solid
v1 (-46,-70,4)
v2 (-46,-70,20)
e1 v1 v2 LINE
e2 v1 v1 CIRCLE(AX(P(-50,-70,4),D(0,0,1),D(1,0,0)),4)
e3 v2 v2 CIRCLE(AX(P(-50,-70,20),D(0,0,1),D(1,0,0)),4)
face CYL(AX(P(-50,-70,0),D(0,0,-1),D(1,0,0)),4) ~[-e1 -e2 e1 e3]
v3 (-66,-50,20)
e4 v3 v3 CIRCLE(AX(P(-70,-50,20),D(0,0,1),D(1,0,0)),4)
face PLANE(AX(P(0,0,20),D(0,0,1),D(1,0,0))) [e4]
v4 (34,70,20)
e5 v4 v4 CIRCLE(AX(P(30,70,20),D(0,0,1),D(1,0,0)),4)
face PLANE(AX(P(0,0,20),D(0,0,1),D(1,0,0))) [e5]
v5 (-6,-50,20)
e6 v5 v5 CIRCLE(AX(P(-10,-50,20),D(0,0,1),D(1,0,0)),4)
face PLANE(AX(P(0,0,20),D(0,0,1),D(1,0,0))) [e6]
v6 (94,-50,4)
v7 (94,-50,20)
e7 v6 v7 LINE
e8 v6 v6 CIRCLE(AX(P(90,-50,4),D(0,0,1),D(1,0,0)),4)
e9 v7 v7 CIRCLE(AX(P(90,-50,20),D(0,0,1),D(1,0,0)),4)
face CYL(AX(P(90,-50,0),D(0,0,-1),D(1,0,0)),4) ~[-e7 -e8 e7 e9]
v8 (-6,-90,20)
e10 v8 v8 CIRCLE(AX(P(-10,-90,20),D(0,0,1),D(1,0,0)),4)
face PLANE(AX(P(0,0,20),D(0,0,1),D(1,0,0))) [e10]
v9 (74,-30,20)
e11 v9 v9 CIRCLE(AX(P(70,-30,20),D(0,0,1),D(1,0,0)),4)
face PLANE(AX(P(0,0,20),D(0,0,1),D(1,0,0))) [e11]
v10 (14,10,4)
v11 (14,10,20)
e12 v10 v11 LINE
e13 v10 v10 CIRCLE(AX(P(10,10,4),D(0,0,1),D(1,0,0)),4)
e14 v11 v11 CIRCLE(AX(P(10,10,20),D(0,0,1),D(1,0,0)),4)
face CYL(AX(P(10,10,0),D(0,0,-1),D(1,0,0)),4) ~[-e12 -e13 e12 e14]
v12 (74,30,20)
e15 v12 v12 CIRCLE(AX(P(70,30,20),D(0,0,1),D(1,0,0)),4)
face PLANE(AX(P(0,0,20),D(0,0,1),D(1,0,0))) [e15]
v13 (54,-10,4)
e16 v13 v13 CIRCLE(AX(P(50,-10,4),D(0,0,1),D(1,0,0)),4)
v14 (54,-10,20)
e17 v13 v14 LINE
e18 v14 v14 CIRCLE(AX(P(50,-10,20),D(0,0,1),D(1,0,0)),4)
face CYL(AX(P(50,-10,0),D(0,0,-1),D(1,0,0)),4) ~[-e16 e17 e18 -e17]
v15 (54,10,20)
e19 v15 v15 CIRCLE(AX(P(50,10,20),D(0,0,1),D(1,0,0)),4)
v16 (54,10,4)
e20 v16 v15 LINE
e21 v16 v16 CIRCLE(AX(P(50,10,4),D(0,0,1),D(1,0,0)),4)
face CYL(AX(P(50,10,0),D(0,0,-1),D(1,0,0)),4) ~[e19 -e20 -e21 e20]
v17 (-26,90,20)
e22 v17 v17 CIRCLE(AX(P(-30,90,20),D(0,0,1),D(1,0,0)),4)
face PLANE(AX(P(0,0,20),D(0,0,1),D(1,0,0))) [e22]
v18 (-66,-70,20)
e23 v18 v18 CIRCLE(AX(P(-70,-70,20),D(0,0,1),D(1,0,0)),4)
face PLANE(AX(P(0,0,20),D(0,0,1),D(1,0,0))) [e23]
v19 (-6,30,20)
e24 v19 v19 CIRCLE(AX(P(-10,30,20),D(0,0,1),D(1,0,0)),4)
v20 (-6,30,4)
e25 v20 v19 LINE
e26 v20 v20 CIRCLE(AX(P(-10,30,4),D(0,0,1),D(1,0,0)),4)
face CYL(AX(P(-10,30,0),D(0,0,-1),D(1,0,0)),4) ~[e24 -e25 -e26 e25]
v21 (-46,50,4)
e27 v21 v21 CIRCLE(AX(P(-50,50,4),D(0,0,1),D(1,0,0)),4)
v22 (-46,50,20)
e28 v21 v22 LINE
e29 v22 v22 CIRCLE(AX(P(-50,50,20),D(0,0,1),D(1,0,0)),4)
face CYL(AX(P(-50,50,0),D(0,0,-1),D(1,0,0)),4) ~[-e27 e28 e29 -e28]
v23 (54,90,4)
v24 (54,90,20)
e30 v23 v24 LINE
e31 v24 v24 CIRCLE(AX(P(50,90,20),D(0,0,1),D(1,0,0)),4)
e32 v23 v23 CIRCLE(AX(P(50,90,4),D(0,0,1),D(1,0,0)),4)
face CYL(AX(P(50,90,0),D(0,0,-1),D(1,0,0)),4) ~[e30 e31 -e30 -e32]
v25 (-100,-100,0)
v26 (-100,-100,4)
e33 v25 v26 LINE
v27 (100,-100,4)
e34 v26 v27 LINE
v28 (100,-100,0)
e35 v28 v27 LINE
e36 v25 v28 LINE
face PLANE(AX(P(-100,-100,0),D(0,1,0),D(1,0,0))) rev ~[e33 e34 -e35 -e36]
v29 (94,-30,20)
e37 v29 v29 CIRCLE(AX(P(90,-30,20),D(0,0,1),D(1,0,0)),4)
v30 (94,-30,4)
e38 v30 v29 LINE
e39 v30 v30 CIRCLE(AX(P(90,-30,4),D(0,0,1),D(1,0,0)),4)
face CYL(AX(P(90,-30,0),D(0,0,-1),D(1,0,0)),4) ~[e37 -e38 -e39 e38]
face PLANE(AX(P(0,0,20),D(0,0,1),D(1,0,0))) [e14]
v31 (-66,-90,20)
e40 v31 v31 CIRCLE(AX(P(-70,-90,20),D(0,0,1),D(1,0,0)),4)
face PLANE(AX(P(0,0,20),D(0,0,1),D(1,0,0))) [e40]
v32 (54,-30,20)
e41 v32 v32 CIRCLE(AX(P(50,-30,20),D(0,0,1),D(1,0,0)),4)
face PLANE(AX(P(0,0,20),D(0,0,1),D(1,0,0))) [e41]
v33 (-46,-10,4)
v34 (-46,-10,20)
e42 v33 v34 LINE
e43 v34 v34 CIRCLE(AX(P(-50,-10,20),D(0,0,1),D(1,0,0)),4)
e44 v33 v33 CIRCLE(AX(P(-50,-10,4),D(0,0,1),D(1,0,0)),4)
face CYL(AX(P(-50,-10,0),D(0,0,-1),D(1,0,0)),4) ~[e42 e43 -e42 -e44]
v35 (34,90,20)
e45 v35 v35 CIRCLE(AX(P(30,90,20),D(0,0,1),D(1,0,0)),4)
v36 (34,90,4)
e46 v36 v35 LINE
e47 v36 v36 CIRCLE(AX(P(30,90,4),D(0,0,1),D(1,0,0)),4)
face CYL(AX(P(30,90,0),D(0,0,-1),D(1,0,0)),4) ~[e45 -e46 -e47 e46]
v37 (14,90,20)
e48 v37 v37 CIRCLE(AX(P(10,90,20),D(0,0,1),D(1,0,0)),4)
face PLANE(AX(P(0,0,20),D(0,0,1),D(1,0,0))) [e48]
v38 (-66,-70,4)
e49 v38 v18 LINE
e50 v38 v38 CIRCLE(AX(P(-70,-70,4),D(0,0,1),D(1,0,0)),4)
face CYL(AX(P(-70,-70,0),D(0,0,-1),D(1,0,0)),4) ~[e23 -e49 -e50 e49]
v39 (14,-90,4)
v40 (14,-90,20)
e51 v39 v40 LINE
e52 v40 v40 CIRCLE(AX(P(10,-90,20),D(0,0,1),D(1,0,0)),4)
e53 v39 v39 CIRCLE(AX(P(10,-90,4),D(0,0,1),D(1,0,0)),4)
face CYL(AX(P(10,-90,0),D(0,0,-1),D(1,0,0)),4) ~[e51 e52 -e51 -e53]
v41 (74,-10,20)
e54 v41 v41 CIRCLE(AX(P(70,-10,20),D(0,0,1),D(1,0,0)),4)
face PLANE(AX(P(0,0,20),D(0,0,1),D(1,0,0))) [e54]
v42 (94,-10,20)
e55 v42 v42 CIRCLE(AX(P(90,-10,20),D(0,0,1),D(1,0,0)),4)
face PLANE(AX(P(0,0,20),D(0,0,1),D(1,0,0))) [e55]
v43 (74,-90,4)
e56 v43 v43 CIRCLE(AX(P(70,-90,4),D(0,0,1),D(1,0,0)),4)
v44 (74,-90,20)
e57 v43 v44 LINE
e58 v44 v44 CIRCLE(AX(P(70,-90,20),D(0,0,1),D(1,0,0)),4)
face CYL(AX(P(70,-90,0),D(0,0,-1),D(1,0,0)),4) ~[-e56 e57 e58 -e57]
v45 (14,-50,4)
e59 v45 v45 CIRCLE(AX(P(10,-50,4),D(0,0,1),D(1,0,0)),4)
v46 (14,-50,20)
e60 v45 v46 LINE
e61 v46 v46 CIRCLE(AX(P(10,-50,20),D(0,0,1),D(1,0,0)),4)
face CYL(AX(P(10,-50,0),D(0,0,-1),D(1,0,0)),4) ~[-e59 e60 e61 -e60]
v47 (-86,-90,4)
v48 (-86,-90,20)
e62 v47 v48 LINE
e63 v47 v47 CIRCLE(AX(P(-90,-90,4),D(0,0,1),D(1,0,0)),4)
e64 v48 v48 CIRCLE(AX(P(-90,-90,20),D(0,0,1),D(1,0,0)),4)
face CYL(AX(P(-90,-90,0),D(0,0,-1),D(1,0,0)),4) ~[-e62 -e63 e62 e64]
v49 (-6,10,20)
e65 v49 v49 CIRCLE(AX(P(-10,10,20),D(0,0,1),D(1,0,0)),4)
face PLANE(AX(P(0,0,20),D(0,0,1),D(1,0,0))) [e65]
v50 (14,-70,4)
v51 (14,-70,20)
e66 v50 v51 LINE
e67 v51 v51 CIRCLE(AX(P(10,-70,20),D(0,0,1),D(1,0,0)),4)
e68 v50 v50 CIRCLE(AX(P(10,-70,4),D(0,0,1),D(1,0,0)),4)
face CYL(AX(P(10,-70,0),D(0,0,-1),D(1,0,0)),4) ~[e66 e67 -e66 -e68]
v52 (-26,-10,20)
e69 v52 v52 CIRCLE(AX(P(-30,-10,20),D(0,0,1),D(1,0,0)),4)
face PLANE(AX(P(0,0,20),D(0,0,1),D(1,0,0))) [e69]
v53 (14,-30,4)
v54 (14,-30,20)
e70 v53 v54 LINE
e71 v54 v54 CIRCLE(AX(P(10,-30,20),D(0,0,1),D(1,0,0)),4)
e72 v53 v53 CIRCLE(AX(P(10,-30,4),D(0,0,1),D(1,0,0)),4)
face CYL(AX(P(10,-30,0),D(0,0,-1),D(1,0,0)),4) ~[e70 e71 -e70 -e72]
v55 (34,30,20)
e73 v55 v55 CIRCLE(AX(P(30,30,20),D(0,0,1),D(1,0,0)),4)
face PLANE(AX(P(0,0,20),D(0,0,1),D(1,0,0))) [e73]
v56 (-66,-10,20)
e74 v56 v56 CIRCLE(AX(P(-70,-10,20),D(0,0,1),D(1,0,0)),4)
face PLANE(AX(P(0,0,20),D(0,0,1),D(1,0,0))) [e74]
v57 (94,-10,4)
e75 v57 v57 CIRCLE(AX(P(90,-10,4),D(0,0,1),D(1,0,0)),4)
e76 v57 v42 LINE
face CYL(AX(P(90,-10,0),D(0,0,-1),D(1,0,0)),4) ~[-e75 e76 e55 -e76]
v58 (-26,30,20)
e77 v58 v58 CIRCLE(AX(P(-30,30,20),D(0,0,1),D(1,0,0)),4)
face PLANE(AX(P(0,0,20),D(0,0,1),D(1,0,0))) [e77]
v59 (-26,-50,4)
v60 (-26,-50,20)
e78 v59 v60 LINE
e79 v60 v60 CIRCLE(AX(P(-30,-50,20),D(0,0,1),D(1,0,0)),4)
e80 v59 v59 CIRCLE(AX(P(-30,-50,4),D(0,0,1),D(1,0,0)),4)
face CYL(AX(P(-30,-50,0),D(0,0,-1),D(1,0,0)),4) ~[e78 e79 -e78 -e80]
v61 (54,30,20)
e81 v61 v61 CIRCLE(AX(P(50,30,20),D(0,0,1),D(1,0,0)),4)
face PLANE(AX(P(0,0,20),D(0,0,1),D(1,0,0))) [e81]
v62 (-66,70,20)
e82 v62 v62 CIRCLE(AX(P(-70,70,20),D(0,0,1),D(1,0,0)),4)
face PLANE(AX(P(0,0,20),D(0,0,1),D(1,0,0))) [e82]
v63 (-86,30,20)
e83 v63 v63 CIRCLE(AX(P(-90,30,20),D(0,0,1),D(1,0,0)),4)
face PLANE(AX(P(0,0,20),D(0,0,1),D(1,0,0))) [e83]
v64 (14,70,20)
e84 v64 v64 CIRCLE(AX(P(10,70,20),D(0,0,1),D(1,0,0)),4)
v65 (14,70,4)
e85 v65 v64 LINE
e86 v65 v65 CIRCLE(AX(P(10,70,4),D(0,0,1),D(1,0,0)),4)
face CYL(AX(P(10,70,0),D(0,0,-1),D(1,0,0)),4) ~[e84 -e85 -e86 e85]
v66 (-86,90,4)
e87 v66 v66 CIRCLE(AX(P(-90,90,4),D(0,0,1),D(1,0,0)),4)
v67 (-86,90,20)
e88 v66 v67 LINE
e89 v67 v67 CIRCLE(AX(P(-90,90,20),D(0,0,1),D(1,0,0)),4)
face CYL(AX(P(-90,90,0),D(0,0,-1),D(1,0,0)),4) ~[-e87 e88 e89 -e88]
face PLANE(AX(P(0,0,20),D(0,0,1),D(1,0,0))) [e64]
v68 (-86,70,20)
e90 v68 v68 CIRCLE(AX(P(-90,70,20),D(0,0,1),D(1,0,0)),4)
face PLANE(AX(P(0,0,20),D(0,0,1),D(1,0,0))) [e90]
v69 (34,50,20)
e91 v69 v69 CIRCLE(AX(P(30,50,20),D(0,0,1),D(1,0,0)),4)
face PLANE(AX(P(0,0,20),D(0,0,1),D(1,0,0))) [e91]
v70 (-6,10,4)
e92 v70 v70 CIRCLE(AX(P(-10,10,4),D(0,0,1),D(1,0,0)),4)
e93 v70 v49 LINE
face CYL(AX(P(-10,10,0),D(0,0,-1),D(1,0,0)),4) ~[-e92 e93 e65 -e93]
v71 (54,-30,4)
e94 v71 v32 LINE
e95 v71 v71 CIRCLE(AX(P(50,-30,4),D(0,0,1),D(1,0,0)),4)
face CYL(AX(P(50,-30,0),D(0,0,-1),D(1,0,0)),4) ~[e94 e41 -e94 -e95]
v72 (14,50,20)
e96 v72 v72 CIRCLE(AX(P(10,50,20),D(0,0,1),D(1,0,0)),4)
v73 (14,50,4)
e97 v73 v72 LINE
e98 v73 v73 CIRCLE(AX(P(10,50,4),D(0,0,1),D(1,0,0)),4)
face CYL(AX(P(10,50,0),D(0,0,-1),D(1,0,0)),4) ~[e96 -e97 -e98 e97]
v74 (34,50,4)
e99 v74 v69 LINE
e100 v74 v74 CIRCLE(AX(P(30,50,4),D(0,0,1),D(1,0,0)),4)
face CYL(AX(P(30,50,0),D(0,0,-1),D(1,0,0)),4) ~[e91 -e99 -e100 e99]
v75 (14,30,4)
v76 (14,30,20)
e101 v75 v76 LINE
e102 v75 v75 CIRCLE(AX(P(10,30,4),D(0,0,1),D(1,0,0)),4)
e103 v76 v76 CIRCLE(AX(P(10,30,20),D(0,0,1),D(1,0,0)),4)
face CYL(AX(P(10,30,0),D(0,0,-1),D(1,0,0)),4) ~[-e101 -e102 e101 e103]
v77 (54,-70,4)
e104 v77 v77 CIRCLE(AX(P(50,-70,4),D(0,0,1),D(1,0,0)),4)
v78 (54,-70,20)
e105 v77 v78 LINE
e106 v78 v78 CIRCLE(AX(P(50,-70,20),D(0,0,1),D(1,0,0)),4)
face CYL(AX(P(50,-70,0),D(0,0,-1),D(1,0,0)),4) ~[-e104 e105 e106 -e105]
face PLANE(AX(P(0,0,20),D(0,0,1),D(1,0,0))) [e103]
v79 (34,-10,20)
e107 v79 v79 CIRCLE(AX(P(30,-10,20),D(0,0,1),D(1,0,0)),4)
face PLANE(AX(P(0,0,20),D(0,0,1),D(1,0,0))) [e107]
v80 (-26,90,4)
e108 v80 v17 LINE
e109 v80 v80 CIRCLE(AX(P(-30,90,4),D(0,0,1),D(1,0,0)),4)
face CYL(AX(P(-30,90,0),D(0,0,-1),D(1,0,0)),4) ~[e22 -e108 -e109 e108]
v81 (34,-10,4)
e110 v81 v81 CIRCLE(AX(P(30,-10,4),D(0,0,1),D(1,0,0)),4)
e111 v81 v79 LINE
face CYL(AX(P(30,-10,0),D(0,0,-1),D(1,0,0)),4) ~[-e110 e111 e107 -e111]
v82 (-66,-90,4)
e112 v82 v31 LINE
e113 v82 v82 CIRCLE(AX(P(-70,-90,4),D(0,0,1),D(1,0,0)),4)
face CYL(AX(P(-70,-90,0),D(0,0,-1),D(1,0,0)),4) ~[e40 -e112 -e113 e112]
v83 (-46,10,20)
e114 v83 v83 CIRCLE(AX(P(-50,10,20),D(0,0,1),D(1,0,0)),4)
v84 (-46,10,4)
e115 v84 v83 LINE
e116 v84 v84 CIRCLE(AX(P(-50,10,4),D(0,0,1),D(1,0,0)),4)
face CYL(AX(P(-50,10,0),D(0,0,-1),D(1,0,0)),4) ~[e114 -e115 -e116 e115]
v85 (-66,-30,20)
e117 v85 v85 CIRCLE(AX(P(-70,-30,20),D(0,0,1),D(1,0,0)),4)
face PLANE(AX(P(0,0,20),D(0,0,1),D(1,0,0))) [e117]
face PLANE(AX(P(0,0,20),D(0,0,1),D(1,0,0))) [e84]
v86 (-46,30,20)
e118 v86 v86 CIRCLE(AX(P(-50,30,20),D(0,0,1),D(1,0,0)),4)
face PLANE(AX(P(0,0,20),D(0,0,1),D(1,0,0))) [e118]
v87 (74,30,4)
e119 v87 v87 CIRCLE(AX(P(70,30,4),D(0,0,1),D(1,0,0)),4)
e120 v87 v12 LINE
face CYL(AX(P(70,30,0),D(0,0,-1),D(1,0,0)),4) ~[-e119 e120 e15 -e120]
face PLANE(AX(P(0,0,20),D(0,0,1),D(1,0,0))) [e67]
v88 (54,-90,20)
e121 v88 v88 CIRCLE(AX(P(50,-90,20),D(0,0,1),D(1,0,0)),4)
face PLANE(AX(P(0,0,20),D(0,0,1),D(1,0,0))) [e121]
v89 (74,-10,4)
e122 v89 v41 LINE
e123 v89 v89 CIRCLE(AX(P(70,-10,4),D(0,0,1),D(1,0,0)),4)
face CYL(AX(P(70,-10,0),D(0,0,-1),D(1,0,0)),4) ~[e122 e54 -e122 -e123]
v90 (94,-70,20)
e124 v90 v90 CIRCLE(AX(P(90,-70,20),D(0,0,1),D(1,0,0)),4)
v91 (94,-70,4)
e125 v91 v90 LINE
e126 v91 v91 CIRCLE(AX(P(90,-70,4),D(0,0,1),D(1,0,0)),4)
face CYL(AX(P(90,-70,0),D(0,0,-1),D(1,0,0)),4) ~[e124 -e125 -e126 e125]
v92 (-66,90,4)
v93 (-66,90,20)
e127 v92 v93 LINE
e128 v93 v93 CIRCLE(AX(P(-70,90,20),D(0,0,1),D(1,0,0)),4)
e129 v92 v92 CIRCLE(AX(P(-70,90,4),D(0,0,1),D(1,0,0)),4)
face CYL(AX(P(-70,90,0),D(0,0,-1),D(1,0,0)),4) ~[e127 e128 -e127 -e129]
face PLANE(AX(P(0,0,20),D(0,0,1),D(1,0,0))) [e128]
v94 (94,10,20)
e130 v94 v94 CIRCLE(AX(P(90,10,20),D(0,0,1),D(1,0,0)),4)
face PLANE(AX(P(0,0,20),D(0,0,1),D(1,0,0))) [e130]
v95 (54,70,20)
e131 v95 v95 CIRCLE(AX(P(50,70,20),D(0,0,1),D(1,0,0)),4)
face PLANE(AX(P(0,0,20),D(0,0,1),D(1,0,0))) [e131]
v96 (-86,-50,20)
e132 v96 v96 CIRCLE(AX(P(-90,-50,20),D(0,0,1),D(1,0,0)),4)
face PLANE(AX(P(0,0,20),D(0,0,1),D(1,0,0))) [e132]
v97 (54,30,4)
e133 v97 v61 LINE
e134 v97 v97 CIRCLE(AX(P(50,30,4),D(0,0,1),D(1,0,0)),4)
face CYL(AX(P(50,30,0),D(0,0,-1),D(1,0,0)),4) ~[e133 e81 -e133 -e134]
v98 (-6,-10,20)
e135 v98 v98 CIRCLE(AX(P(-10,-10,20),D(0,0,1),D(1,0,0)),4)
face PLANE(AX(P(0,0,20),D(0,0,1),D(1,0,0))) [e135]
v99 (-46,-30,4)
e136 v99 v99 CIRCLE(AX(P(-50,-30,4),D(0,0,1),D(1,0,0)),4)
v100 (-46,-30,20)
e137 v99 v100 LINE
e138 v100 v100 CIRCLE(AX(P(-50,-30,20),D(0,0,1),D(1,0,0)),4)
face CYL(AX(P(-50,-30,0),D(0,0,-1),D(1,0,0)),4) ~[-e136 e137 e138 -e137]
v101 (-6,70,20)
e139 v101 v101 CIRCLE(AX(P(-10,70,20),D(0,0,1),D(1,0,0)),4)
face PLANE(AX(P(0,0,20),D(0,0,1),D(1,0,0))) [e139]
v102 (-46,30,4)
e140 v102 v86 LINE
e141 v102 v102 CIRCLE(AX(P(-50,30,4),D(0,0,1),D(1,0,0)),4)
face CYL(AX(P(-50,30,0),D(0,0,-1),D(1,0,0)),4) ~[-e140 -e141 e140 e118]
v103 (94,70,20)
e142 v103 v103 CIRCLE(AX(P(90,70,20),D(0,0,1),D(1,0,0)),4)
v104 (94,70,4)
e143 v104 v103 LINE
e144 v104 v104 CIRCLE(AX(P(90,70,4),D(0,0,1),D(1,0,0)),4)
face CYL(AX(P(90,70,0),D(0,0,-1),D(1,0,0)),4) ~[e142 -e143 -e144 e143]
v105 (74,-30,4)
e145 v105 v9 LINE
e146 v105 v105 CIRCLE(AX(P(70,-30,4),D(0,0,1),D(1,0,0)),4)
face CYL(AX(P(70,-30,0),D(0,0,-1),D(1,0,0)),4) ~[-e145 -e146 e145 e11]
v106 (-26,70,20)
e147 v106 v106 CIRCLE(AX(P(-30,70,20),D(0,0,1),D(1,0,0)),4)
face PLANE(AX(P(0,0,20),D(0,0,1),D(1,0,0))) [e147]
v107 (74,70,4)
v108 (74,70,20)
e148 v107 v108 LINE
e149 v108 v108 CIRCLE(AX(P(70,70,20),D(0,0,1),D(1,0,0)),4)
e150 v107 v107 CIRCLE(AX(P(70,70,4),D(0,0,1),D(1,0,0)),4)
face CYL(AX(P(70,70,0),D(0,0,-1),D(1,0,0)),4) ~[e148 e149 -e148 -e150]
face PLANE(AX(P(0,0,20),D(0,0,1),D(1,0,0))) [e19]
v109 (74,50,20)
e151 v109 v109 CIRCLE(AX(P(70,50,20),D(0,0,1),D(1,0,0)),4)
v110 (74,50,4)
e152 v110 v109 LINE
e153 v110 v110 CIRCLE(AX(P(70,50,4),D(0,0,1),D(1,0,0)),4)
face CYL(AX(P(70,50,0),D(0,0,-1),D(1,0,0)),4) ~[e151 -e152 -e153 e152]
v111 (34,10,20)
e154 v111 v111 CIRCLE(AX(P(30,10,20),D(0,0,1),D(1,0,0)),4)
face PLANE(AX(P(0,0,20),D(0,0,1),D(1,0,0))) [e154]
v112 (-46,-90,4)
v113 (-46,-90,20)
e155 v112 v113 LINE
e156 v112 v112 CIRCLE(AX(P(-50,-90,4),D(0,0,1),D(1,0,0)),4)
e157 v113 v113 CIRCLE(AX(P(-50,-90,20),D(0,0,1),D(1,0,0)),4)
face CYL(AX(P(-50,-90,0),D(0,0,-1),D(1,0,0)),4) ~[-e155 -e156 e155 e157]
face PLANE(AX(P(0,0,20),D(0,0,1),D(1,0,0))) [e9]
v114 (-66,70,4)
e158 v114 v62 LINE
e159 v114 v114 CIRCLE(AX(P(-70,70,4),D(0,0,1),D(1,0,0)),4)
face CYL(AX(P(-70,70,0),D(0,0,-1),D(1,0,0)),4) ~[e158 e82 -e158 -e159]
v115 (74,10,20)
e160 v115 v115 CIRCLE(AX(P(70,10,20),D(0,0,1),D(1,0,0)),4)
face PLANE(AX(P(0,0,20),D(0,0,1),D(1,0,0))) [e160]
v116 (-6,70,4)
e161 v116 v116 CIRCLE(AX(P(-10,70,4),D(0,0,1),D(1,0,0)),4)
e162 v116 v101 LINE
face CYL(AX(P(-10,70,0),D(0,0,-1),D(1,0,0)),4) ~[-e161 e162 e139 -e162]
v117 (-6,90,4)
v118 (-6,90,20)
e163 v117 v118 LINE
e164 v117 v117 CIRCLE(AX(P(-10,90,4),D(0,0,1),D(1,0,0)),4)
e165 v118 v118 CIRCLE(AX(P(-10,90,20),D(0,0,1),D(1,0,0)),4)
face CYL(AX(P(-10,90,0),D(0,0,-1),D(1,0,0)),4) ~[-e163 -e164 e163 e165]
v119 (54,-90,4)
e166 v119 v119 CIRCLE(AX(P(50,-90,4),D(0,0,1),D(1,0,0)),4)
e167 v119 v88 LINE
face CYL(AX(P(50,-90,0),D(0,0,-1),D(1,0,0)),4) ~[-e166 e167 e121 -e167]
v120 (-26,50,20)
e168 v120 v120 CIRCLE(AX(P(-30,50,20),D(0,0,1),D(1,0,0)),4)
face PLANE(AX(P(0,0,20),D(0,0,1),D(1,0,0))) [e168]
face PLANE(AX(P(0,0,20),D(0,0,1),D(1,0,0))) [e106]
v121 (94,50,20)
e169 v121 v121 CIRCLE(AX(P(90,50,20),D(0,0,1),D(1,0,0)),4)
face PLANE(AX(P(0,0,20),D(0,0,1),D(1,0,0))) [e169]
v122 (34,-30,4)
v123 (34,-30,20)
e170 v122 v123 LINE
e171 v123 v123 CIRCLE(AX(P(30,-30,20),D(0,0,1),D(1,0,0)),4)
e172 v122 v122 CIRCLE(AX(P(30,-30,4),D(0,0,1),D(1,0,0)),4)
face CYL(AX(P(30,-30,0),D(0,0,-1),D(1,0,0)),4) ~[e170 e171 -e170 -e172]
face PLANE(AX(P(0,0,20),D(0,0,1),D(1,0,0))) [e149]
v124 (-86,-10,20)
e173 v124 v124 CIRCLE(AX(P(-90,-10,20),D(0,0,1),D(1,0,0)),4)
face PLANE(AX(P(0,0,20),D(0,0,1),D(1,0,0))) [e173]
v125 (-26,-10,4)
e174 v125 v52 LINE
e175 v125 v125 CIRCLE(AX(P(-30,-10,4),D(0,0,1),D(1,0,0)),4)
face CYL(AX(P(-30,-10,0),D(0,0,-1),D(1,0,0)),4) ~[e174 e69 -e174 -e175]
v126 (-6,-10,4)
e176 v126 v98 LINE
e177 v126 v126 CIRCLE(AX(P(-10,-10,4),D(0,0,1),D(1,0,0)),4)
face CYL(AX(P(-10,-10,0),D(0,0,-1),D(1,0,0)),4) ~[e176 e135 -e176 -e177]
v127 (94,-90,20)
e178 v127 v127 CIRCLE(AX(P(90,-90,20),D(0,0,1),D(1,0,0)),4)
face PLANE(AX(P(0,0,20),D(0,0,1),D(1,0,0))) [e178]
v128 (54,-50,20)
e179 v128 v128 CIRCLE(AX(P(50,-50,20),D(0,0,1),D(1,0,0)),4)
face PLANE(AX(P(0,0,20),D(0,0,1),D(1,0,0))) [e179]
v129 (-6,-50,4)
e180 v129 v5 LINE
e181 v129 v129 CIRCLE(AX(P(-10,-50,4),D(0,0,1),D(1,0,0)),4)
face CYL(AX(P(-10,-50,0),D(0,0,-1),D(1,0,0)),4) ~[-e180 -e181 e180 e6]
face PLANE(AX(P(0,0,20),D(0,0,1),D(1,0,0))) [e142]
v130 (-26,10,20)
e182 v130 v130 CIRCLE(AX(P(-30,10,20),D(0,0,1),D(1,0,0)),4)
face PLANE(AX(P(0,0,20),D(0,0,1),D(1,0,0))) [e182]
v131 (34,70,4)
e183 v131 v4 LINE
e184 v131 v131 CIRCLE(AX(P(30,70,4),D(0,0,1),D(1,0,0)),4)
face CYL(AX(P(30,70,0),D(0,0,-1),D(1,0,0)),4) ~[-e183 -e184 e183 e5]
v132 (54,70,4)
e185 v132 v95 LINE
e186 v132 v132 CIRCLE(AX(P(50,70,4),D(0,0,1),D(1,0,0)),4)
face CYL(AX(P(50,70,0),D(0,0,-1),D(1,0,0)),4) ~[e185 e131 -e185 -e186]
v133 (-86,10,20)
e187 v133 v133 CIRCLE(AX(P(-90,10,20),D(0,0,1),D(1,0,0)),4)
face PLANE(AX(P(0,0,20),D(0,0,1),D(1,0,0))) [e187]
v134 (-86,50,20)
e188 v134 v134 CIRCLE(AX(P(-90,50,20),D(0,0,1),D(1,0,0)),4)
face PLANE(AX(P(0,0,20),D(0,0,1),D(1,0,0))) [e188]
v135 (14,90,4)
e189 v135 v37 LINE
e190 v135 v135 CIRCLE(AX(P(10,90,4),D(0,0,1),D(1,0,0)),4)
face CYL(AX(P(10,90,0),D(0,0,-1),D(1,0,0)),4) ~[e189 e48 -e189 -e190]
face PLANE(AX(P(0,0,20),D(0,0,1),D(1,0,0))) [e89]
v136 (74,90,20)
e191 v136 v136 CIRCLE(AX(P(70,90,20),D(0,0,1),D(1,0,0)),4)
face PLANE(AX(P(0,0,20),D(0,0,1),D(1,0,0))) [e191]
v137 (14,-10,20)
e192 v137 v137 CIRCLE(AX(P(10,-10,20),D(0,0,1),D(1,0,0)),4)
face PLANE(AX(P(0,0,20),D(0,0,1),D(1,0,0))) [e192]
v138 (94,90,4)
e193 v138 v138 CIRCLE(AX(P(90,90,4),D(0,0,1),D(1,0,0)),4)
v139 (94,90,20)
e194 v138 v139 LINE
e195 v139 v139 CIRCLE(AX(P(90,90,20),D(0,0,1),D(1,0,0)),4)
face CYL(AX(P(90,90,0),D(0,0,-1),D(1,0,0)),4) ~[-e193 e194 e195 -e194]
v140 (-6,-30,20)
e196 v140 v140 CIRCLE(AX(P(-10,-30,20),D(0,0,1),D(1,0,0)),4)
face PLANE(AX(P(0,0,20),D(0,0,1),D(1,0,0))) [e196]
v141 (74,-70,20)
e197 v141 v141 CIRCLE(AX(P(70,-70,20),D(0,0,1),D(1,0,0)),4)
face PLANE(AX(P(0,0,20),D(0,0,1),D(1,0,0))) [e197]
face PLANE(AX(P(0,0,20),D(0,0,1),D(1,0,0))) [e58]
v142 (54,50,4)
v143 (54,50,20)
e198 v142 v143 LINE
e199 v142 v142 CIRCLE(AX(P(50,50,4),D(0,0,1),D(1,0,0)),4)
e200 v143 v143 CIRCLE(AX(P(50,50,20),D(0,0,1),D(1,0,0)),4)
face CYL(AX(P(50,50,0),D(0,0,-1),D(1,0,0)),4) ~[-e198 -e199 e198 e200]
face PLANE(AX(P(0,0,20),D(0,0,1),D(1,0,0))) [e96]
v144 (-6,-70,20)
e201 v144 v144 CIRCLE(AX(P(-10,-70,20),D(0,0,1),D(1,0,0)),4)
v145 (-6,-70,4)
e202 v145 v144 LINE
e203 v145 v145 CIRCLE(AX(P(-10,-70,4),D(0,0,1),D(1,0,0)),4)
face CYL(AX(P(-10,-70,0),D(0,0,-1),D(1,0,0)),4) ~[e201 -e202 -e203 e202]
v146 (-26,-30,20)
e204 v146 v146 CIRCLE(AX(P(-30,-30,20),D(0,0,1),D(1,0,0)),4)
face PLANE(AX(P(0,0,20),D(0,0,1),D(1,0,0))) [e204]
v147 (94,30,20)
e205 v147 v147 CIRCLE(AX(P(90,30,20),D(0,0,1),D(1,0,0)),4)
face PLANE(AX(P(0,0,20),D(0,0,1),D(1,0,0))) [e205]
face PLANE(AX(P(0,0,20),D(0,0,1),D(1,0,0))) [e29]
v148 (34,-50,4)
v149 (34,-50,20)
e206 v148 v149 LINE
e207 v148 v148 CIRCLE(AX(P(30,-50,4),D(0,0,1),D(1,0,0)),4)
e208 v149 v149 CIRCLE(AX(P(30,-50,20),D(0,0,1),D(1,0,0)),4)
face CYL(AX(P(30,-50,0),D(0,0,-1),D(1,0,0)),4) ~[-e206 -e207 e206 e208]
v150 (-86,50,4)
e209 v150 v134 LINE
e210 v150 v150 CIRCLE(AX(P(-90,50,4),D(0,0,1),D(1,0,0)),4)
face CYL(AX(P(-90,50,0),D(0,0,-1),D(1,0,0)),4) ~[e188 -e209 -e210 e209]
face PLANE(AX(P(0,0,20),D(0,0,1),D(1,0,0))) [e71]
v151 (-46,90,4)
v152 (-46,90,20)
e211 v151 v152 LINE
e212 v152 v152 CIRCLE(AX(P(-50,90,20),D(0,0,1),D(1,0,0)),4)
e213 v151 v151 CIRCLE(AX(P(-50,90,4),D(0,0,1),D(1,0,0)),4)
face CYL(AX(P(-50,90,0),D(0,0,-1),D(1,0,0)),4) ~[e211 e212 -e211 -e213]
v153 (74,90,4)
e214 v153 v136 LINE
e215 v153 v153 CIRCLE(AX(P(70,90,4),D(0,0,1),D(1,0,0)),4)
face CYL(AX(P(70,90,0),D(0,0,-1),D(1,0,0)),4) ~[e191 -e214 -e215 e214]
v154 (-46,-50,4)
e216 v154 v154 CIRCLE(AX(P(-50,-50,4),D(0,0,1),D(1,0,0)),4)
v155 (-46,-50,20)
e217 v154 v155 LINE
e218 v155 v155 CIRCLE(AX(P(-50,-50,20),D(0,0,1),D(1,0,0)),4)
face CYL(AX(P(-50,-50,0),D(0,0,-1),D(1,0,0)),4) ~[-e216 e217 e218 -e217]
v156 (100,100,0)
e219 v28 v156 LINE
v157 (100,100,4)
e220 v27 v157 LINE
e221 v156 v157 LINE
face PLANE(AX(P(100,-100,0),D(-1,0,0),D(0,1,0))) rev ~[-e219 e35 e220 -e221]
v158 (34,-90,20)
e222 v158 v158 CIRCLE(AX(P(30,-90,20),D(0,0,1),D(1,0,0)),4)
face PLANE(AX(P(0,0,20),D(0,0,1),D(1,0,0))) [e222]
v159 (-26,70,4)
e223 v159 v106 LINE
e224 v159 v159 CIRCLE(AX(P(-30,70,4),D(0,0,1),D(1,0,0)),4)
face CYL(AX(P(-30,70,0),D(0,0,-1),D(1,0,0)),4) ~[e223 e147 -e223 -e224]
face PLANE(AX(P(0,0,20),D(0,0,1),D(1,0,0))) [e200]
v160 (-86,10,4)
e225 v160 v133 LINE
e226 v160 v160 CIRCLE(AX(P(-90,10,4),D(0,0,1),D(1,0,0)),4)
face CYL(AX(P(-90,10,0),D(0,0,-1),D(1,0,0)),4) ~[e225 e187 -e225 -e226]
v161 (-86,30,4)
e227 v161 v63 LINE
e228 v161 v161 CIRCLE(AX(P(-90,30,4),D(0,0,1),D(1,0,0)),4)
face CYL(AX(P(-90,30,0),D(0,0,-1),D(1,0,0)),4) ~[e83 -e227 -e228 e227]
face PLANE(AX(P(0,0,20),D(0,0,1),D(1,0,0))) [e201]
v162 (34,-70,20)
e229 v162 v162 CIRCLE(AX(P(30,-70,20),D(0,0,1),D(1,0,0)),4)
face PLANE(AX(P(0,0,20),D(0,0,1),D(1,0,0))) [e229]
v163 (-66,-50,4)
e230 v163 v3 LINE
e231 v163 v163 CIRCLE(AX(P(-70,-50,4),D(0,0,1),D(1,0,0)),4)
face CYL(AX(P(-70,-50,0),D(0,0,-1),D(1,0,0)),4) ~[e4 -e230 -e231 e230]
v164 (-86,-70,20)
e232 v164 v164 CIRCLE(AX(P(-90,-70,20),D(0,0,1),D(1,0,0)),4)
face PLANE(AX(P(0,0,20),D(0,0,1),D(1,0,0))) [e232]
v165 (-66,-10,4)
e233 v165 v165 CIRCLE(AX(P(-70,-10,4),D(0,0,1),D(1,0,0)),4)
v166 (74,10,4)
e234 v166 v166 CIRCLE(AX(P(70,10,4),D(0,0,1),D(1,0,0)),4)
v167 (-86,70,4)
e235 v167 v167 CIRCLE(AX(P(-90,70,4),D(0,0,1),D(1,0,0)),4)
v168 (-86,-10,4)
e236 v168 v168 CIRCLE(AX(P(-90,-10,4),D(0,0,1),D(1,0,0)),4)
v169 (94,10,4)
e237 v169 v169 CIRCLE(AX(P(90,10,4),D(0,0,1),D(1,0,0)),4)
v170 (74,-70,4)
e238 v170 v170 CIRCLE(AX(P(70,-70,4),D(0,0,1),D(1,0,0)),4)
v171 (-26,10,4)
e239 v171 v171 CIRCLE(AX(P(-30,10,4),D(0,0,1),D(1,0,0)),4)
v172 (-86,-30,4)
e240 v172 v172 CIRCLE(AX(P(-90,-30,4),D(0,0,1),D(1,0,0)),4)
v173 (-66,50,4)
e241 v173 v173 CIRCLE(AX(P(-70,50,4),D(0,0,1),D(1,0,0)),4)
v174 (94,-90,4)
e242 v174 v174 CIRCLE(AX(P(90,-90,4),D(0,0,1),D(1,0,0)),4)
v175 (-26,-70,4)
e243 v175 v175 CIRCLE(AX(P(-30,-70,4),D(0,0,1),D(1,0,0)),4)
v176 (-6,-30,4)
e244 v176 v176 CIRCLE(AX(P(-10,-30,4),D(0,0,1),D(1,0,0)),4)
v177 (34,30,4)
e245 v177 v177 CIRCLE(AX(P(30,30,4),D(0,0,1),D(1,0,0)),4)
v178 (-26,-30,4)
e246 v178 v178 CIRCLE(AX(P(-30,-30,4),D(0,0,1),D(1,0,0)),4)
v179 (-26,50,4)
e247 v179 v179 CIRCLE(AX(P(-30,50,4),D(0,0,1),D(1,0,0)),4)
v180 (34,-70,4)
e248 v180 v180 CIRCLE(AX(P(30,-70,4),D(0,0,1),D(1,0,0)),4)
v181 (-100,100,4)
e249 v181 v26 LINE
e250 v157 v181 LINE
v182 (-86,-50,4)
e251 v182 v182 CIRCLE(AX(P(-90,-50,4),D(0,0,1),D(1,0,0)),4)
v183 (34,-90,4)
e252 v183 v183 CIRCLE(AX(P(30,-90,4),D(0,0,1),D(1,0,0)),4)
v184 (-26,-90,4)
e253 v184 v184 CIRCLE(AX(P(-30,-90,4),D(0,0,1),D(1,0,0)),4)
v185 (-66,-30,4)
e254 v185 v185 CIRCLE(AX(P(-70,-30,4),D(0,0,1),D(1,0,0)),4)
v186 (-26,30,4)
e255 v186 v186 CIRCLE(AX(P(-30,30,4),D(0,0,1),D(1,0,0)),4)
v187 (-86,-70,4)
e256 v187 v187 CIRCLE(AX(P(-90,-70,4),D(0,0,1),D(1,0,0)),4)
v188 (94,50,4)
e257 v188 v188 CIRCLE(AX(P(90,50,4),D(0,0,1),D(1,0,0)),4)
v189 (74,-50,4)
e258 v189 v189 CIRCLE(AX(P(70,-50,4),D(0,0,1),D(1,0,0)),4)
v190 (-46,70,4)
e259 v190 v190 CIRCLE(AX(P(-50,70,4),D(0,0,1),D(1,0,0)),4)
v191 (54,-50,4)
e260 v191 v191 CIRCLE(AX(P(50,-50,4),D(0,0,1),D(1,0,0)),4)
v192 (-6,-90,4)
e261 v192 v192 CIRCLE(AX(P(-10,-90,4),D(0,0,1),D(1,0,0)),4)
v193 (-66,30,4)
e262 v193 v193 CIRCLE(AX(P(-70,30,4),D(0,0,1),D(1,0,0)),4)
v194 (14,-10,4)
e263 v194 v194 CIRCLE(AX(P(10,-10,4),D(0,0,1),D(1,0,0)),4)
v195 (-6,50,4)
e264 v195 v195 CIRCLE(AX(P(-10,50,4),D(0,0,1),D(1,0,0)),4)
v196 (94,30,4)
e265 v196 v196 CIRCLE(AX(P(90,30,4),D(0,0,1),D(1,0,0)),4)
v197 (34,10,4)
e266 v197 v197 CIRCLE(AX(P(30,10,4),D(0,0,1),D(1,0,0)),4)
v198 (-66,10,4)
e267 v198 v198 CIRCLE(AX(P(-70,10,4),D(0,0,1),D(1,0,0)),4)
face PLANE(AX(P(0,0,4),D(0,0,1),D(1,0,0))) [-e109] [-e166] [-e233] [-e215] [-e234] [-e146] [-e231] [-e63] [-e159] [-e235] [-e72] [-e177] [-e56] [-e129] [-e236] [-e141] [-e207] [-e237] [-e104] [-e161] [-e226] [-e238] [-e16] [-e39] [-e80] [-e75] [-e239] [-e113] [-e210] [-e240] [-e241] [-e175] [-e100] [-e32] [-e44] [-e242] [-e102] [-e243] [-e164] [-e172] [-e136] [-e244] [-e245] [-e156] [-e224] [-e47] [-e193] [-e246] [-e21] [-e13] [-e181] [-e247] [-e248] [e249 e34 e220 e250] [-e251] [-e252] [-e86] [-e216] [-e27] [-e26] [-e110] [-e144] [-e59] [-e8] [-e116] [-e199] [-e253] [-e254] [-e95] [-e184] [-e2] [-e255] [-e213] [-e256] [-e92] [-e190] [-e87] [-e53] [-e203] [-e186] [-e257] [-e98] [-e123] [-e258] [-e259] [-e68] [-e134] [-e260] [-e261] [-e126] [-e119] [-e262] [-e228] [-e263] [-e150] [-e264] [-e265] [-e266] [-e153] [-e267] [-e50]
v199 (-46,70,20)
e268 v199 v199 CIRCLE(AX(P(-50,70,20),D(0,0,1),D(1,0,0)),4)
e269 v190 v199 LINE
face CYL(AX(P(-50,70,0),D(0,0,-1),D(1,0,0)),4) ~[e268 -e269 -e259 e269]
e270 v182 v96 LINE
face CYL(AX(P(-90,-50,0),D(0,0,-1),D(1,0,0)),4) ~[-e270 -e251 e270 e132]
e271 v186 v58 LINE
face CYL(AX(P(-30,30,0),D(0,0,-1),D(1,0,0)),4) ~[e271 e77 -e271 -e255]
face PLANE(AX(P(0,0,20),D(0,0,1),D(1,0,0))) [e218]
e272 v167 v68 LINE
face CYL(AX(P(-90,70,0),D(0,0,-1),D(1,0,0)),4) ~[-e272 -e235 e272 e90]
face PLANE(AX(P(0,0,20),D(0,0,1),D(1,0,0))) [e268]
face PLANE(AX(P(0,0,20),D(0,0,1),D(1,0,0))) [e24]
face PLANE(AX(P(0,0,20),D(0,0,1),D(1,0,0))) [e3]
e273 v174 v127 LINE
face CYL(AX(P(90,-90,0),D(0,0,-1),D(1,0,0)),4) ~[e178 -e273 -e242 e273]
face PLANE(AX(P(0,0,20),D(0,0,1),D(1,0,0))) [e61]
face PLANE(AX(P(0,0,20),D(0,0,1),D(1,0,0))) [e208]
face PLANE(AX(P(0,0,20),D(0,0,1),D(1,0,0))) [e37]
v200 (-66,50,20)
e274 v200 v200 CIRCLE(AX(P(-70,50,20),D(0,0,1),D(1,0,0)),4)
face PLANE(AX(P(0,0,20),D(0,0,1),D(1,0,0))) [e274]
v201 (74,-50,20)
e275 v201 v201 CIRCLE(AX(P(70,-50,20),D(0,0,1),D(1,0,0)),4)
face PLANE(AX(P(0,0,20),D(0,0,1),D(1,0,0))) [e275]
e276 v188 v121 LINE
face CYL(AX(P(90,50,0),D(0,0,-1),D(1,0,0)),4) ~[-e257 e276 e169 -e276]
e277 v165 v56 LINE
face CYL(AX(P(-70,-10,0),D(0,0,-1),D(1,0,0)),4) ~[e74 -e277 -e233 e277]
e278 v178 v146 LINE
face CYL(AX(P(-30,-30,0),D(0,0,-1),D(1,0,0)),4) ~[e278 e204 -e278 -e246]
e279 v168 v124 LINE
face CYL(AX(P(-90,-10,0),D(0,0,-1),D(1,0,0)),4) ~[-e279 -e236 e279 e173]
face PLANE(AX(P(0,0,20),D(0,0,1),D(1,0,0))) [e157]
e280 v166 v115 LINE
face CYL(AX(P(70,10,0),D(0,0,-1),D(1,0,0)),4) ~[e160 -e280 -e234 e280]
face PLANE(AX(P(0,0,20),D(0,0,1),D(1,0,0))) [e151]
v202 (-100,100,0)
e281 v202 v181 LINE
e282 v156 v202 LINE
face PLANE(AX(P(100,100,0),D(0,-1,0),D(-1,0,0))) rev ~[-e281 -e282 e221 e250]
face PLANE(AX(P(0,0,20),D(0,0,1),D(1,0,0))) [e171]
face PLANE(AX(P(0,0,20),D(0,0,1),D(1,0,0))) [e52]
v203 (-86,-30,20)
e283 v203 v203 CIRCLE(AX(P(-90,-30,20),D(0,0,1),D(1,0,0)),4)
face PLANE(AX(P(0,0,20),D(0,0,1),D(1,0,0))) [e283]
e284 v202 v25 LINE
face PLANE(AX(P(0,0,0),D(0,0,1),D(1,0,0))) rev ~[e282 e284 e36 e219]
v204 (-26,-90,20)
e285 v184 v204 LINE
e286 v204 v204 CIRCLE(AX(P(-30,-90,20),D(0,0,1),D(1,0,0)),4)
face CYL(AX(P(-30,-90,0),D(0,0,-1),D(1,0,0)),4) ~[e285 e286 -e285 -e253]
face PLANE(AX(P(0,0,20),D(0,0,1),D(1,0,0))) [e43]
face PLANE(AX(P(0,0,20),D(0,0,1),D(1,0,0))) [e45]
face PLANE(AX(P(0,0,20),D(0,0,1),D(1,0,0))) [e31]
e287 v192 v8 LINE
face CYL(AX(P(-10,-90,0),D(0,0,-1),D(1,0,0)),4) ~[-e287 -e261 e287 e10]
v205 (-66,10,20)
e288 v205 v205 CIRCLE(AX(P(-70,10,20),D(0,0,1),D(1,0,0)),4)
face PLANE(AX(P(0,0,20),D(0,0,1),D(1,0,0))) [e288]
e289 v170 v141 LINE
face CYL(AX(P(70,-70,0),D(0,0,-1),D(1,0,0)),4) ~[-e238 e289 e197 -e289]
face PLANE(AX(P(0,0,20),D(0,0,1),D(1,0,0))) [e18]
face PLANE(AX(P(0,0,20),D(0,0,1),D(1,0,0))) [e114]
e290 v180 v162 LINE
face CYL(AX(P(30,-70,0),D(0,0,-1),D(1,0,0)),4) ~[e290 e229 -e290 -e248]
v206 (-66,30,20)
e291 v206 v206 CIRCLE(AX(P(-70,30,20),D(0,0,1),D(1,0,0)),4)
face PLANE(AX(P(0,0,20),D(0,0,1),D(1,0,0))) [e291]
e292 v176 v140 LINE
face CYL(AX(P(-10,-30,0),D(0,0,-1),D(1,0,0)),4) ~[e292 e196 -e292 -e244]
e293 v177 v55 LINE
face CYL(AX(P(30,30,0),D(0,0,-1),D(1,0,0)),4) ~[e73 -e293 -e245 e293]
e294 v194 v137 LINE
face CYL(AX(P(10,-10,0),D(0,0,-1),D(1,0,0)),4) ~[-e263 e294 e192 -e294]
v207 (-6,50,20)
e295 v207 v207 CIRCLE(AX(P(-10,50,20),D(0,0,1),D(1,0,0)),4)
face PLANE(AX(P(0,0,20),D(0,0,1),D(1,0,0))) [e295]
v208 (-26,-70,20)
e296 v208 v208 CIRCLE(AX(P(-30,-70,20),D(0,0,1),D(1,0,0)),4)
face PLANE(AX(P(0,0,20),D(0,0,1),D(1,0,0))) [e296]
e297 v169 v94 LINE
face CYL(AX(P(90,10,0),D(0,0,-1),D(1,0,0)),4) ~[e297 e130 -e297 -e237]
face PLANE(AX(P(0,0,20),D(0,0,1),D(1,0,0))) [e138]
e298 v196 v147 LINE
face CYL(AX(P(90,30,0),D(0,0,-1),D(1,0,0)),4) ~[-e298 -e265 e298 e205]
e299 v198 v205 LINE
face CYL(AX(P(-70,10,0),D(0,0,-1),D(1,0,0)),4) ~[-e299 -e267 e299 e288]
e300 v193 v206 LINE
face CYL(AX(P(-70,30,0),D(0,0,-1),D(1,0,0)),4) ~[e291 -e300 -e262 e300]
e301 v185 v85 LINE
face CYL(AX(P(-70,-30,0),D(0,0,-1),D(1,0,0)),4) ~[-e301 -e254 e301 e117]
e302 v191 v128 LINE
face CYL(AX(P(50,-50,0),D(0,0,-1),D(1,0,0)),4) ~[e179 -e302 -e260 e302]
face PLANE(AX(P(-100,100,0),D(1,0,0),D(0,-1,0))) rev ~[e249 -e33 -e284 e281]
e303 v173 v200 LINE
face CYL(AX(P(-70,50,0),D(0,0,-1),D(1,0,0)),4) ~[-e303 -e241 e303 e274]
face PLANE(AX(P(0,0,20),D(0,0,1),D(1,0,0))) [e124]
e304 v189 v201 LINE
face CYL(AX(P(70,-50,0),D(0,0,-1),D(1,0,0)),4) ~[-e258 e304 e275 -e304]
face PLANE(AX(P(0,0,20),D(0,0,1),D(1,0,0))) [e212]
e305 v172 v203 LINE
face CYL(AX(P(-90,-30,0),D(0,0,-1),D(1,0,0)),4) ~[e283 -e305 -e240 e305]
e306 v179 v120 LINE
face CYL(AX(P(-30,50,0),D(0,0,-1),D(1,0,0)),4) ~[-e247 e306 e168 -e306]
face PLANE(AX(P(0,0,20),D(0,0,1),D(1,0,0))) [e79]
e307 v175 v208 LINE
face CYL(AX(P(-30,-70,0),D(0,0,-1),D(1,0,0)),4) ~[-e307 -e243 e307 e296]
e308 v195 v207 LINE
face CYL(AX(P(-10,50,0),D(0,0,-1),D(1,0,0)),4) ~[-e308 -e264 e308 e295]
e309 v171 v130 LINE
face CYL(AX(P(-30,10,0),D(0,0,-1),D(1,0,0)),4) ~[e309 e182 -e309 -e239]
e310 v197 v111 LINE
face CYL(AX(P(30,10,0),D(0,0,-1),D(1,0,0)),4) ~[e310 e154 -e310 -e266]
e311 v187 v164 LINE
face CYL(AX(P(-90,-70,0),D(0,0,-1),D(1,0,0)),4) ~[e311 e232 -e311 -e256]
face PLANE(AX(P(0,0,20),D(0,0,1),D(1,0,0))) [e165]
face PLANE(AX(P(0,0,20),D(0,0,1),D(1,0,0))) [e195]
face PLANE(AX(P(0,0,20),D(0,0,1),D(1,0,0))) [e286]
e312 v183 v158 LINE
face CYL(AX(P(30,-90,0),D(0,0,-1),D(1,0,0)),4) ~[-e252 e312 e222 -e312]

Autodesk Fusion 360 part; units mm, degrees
sketch "Sketch1" plane through (0, 0, 0) normal (0, 0, 1) x (1, 0, 0)
  line L0 (100, 100) -> (-100, 100)
  line L1 (-100, 100) -> (-100, -100)
  line L2 (-100, -100) -> (100, -100)
  line L3 (100, -100) -> (100, 100)
  line L4 (100, 100) -> (-100, -100) construction
  line L5 (-100, 100) -> (100, -100) construction
  circle A0 centre (-90, -90) radius 4
  circle A1 centre (-70, -90) radius 4
  circle A2 centre (-50, -90) radius 4
  circle A3 centre (-30, -90) radius 4
  circle A4 centre (-10, -90) radius 4
  circle A5 centre (10, -90) radius 4
  circle A6 centre (30, -90) radius 4
  circle A7 centre (50, -90) radius 4
  circle A8 centre (70, -90) radius 4
  circle A9 centre (90, -90) radius 4
  circle A10 centre (-90, -70) radius 4
  circle A11 centre (-70, -70) radius 4
  circle A12 centre (-50, -70) radius 4
  circle A13 centre (-30, -70) radius 4
  circle A14 centre (-10, -70) radius 4
  circle A15 centre (10, -70) radius 4
  circle A16 centre (30, -70) radius 4
  circle A17 centre (50, -70) radius 4
  circle A18 centre (70, -70) radius 4
  circle A19 centre (90, -70) radius 4
  circle A20 centre (-90, -50) radius 4
  circle A21 centre (-70, -50) radius 4
  circle A22 centre (-50, -50) radius 4
  circle A23 centre (-30, -50) radius 4
  circle A24 centre (-10, -50) radius 4
  circle A25 centre (10, -50) radius 4
  circle A26 centre (30, -50) radius 4
  circle A27 centre (50, -50) radius 4
  circle A28 centre (70, -50) radius 4
  circle A29 centre (90, -50) radius 4
  circle A30 centre (-90, -30) radius 4
  circle A31 centre (-70, -30) radius 4
  circle A32 centre (-50, -30) radius 4
  circle A33 centre (-30, -30) radius 4
  circle A34 centre (-10, -30) radius 4
  circle A35 centre (10, -30) radius 4
  circle A36 centre (30, -30) radius 4
  circle A37 centre (50, -30) radius 4
  circle A38 centre (70, -30) radius 4
  circle A39 centre (90, -30) radius 4
  circle A40 centre (-90, -10) radius 4
  circle A41 centre (-70, -10) radius 4
  circle A42 centre (-50, -10) radius 4
  circle A43 centre (-30, -10) radius 4
  circle A44 centre (-10, -10) radius 4
  circle A45 centre (10, -10) radius 4
  circle A46 centre (30, -10) radius 4
  circle A47 centre (50, -10) radius 4
  circle A48 centre (70, -10) radius 4
  circle A49 centre (90, -10) radius 4
  circle A50 centre (-90, 10) radius 4
  circle A51 centre (-70, 10) radius 4
  circle A52 centre (-50, 10) radius 4
  circle A53 centre (-30, 10) radius 4
  circle A54 centre (-10, 10) radius 4
  circle A55 centre (10, 10) radius 4
  circle A56 centre (30, 10) radius 4
  circle A57 centre (50, 10) radius 4
  circle A58 centre (70, 10) radius 4
  circle A59 centre (90, 10) radius 4
  circle A60 centre (-90, 30) radius 4
  circle A61 centre (-70, 30) radius 4
  circle A62 centre (-50, 30) radius 4
  circle A63 centre (-30, 30) radius 4
  circle A64 centre (-10, 30) radius 4
  circle A65 centre (10, 30) radius 4
  circle A66 centre (30, 30) radius 4
  circle A67 centre (50, 30) radius 4
  circle A68 centre (70, 30) radius 4
  circle A69 centre (90, 30) radius 4
  circle A70 centre (-90, 50) radius 4
  circle A71 centre (-70, 50) radius 4
  circle A72 centre (-50, 50) radius 4
  circle A73 centre (-30, 50) radius 4
  circle A74 centre (-10, 50) radius 4
  circle A75 centre (10, 50) radius 4
  circle A76 centre (30, 50) radius 4
  circle A77 centre (50, 50) radius 4
  circle A78 centre (70, 50) radius 4
  circle A79 centre (90, 50) radius 4
  circle A80 centre (-90, 70) radius 4
  circle A81 centre (-70, 70) radius 4
  circle A82 centre (-50, 70) radius 4
  circle A83 centre (-30, 70) radius 4
  circle A84 centre (-10, 70) radius 4
  circle A85 centre (10, 70) radius 4
  circle A86 centre (30, 70) radius 4
  circle A87 centre (50, 70) radius 4
  circle A88 centre (70, 70) radius 4
  circle A89 centre (90, 70) radius 4
  circle A90 centre (-90, 90) radius 4
  circle A91 centre (-70, 90) radius 4
  circle A92 centre (-50, 90) radius 4
  circle A93 centre (-30, 90) radius 4
  circle A94 centre (-10, 90) radius 4
  circle A95 centre (10, 90) radius 4
  circle A96 centre (30, 90) radius 4
  circle A97 centre (50, 90) radius 4
  circle A98 centre (70, 90) radius 4
  circle A99 centre (90, 90) radius 4
  dimension "d1" = 200
  dimension "d2" = 200
  dimension "d3" = 8
  dimension "d4" = 10
  dimension "d7" = 180
  dimension "d8" = 180
extrude "Extrude1" add sketch "Sketch1" along normal blind 20 contours A0 | A1 | A2 | A3 | A4 | A5 | A6 | A7 | A8 | A9 | A10 | A11 | A12 | A13 | A14 | A15 | A16 | A17 | A18 | A19 | A20 | A21 | A22 | A23 | A24 | A25 | A26 | A27 | A28 | A29 | A30 | A31 | A32 | A33 | A34 | A35 | A36 | A37 | A38 | A39 | A40 | A41 | A42 | A43 | A44 | A45 | A46 | A47 | A48 | A49 | A50 | A51 | A52 | A53 | A54 | A55 | A56 | A57 | A58 | A59 | A60 | A61 | A62 | A63 | A64 | A65 | A66 | A67 | A68 | A69 | A70 | A71 | A72 | A73 | A74 | A75 | A76 | A77 | A78 | A79 | A80 | A81 | A82 | A83 | A84 | A85 | A86 | A87 | A88 | A89 | A90 | A91 | A92 | A93 | A94 | A95 | A96 | A97 | A98 | A99 makes body 1 at (-66.005, 9.8006, 13.3333) makes body 2 at (-26.005, -50.1994, 13.3333) makes body 3 at (13.995, 29.8006, 13.3333) makes body 4 at (33.995, -70.1994, 13.3333) makes body 5 at (-86.005, -90.1994, 13.3333) makes body 6 at (-26.005, -90.1994, 13.3333) makes body 7 at (73.995, -70.1994, 13.3333) makes body 8 at (-86.005, 9.8006, 13.3333) makes body 9 at (-46.005, -90.1994, 13.3333) makes body 10 at (53.995, -70.1994, 13.3333) makes body 11 at (-86.005, -10.1994, 13.3333) makes body 12 at (-46.005, -10.1994, 13.3333) makes body 13 at (-6.005, 69.8006, 13.3333) makes body 14 at (-46.005, 69.8006, 13.3333) makes body 15 at (53.995, -50.1994, 13.3333) makes body 16 at (13.995, -10.1994, 13.3333) makes body 17 at (-66.005, -30.1994, 13.3333) makes body 18 at (-6.005, -30.1994, 13.3333) makes body 19 at (33.995, -50.1994, 13.3333) makes body 20 at (-26.005, 89.8006, 13.3333) makes body 21 at (73.995, 29.8006, 13.3333) makes body 22 at (93.995, -50.1994, 13.3333) makes body 23 at (33.995, 69.8006, 13.3333) makes body 24 at (-86.005, 69.8006, 13.3333) makes body 25 at (73.995, -10.1994, 13.3333) makes body 26 at (13.995, 69.8006, 13.3333) makes body 27 at (-26.005, 69.8006, 13.3333) makes body 28 at (93.995, 69.8006, 13.3333) makes body 29 at (-46.005, 49.8006, 13.3333) makes body 30 at (33.995, 49.8006, 13.3333) makes body 31 at (93.995, -10.1994, 13.3333) makes body 32 at (-66.005, 49.8006, 13.3333) makes body 33 at (93.995, 89.8006, 13.3333) makes body 34 at (13.995, -50.1994, 13.3333) makes body 35 at (93.995, 29.8006, 13.3333) makes body 36 at (53.995, -30.1994, 13.3333) makes body 37 at (-46.005, 89.8006, 13.3333) makes body 38 at (-6.005, 29.8006, 13.3333) makes body 39 at (-26.005, -10.1994, 13.3333) makes body 40 at (53.995, 29.8006, 13.3333) makes body 41 at (-6.005, -50.1994, 13.3333) makes body 42 at (73.995, 9.8006, 13.3333) makes body 43 at (-66.005, 29.8006, 13.3333) makes body 44 at (-66.005, -90.1994, 13.3333) makes body 45 at (73.995, -90.1994, 13.3333) makes body 46 at (-46.005, 9.8006, 13.3333) makes body 47 at (-6.005, -90.1994, 13.3333) makes body 48 at (-86.005, -70.1994, 13.3333) makes body 49 at (33.995, 29.8006, 13.3333) makes body 50 at (-26.005, 9.8006, 13.3333) makes body 51 at (-26.005, 29.8006, 13.3333) makes body 52 at (-46.005, 29.8006, 13.3333) makes body 53 at (-66.005, -70.1994, 13.3333) makes body 54 at (-46.005, -50.1994, 13.3333) makes body 55 at (53.995, 9.8006, 13.3333) makes body 56 at (-86.005, 29.8006, 13.3333) makes body 57 at (13.995, -70.1994, 13.3333) makes body 58 at (-26.005, -70.1994, 13.3333) makes body 59 at (-86.005, -50.1994, 13.3333) makes body 60 at (33.995, -90.1994, 13.3333) makes body 61 at (-66.005, -10.1994, 13.3333) makes body 62 at (53.995, -10.1994, 13.3333) makes body 63 at (73.995, 49.8006, 13.3333) makes body 64 at (33.995, 89.8006, 13.3333) makes body 65 at (-26.005, 49.8006, 13.3333) makes body 66 at (13.995, -30.1994, 13.3333) makes body 67 at (-66.005, 89.8006, 13.3333) makes body 68 at (73.995, -30.1994, 13.3333) makes body 69 at (-86.005, 49.8006, 13.3333) makes body 70 at (33.995, -30.1994, 13.3333) makes body 71 at (-26.005, -30.1994, 13.3333) makes body 72 at (-46.005, -30.1994, 13.3333) makes body 73 at (13.995, 89.8006, 13.3333) makes body 74 at (93.995, -30.1994, 13.3333) makes body 75 at (-6.005, 89.8006, 13.3333) makes body 76 at (-66.005, 69.8006, 13.3333) makes body 77 at (53.995, 49.8006, 13.3333) makes body 78 at (53.995, 89.8006, 13.3333) makes body 79 at (-86.005, 89.8006, 13.3333) makes body 80 at (73.995, 89.8006, 13.3333) makes body 81 at (93.995, 49.8006, 13.3333) makes body 82 at (73.995, 69.8006, 13.3333) makes body 83 at (-6.005, 49.8006, 13.3333) makes body 84 at (73.995, -50.1994, 13.3333) makes body 85 at (13.995, 49.8006, 13.3333) makes body 86 at (53.995, 69.8006, 13.3333) makes body 87 at (33.995, -10.1994, 13.3333) makes body 88 at (-86.005, -30.1994, 13.3333) makes body 89 at (-6.005, -10.1994, 13.3333) makes body 90 at (93.995, -70.1994, 13.3333) makes body 91 at (33.995, 9.8006, 13.3333) makes body 92 at (53.995, -90.1994, 13.3333) makes body 93 at (-66.005, -50.1994, 13.3333) makes body 94 at (-46.005, -70.1994, 13.3333) makes body 95 at (93.995, -90.1994, 13.3333) makes body 96 at (-6.005, 9.8006, 13.3333) makes body 97 at (-6.005, -70.1994, 13.3333) makes body 98 at (93.995, 9.8006, 13.3333) makes body 99 at (13.995, -90.1994, 13.3333) makes body 100 at (13.995, 9.8006, 13.3333)
extrude "Extrude2" add sketch "Sketch1" along normal blind 4 bodies 1 2 3 4 5 6 7 8 9 10 11 12 13 14 15 16 17 18 19 20 21 22 23 24 25 26 27 28 29 30 31 32 33 34 35 36 37 38 39 40 41 42 43 44 45 46 47 48 49 50 51 52 53 54 55 56 57 58 59 60 61 62 63 64 65 66 67 68 69 70 71 72 73 74 75 76 77 78 79 80 81 82 83 84 85 86 87 88 89 90 91 92 93 94 95 96 97 98 99 100
